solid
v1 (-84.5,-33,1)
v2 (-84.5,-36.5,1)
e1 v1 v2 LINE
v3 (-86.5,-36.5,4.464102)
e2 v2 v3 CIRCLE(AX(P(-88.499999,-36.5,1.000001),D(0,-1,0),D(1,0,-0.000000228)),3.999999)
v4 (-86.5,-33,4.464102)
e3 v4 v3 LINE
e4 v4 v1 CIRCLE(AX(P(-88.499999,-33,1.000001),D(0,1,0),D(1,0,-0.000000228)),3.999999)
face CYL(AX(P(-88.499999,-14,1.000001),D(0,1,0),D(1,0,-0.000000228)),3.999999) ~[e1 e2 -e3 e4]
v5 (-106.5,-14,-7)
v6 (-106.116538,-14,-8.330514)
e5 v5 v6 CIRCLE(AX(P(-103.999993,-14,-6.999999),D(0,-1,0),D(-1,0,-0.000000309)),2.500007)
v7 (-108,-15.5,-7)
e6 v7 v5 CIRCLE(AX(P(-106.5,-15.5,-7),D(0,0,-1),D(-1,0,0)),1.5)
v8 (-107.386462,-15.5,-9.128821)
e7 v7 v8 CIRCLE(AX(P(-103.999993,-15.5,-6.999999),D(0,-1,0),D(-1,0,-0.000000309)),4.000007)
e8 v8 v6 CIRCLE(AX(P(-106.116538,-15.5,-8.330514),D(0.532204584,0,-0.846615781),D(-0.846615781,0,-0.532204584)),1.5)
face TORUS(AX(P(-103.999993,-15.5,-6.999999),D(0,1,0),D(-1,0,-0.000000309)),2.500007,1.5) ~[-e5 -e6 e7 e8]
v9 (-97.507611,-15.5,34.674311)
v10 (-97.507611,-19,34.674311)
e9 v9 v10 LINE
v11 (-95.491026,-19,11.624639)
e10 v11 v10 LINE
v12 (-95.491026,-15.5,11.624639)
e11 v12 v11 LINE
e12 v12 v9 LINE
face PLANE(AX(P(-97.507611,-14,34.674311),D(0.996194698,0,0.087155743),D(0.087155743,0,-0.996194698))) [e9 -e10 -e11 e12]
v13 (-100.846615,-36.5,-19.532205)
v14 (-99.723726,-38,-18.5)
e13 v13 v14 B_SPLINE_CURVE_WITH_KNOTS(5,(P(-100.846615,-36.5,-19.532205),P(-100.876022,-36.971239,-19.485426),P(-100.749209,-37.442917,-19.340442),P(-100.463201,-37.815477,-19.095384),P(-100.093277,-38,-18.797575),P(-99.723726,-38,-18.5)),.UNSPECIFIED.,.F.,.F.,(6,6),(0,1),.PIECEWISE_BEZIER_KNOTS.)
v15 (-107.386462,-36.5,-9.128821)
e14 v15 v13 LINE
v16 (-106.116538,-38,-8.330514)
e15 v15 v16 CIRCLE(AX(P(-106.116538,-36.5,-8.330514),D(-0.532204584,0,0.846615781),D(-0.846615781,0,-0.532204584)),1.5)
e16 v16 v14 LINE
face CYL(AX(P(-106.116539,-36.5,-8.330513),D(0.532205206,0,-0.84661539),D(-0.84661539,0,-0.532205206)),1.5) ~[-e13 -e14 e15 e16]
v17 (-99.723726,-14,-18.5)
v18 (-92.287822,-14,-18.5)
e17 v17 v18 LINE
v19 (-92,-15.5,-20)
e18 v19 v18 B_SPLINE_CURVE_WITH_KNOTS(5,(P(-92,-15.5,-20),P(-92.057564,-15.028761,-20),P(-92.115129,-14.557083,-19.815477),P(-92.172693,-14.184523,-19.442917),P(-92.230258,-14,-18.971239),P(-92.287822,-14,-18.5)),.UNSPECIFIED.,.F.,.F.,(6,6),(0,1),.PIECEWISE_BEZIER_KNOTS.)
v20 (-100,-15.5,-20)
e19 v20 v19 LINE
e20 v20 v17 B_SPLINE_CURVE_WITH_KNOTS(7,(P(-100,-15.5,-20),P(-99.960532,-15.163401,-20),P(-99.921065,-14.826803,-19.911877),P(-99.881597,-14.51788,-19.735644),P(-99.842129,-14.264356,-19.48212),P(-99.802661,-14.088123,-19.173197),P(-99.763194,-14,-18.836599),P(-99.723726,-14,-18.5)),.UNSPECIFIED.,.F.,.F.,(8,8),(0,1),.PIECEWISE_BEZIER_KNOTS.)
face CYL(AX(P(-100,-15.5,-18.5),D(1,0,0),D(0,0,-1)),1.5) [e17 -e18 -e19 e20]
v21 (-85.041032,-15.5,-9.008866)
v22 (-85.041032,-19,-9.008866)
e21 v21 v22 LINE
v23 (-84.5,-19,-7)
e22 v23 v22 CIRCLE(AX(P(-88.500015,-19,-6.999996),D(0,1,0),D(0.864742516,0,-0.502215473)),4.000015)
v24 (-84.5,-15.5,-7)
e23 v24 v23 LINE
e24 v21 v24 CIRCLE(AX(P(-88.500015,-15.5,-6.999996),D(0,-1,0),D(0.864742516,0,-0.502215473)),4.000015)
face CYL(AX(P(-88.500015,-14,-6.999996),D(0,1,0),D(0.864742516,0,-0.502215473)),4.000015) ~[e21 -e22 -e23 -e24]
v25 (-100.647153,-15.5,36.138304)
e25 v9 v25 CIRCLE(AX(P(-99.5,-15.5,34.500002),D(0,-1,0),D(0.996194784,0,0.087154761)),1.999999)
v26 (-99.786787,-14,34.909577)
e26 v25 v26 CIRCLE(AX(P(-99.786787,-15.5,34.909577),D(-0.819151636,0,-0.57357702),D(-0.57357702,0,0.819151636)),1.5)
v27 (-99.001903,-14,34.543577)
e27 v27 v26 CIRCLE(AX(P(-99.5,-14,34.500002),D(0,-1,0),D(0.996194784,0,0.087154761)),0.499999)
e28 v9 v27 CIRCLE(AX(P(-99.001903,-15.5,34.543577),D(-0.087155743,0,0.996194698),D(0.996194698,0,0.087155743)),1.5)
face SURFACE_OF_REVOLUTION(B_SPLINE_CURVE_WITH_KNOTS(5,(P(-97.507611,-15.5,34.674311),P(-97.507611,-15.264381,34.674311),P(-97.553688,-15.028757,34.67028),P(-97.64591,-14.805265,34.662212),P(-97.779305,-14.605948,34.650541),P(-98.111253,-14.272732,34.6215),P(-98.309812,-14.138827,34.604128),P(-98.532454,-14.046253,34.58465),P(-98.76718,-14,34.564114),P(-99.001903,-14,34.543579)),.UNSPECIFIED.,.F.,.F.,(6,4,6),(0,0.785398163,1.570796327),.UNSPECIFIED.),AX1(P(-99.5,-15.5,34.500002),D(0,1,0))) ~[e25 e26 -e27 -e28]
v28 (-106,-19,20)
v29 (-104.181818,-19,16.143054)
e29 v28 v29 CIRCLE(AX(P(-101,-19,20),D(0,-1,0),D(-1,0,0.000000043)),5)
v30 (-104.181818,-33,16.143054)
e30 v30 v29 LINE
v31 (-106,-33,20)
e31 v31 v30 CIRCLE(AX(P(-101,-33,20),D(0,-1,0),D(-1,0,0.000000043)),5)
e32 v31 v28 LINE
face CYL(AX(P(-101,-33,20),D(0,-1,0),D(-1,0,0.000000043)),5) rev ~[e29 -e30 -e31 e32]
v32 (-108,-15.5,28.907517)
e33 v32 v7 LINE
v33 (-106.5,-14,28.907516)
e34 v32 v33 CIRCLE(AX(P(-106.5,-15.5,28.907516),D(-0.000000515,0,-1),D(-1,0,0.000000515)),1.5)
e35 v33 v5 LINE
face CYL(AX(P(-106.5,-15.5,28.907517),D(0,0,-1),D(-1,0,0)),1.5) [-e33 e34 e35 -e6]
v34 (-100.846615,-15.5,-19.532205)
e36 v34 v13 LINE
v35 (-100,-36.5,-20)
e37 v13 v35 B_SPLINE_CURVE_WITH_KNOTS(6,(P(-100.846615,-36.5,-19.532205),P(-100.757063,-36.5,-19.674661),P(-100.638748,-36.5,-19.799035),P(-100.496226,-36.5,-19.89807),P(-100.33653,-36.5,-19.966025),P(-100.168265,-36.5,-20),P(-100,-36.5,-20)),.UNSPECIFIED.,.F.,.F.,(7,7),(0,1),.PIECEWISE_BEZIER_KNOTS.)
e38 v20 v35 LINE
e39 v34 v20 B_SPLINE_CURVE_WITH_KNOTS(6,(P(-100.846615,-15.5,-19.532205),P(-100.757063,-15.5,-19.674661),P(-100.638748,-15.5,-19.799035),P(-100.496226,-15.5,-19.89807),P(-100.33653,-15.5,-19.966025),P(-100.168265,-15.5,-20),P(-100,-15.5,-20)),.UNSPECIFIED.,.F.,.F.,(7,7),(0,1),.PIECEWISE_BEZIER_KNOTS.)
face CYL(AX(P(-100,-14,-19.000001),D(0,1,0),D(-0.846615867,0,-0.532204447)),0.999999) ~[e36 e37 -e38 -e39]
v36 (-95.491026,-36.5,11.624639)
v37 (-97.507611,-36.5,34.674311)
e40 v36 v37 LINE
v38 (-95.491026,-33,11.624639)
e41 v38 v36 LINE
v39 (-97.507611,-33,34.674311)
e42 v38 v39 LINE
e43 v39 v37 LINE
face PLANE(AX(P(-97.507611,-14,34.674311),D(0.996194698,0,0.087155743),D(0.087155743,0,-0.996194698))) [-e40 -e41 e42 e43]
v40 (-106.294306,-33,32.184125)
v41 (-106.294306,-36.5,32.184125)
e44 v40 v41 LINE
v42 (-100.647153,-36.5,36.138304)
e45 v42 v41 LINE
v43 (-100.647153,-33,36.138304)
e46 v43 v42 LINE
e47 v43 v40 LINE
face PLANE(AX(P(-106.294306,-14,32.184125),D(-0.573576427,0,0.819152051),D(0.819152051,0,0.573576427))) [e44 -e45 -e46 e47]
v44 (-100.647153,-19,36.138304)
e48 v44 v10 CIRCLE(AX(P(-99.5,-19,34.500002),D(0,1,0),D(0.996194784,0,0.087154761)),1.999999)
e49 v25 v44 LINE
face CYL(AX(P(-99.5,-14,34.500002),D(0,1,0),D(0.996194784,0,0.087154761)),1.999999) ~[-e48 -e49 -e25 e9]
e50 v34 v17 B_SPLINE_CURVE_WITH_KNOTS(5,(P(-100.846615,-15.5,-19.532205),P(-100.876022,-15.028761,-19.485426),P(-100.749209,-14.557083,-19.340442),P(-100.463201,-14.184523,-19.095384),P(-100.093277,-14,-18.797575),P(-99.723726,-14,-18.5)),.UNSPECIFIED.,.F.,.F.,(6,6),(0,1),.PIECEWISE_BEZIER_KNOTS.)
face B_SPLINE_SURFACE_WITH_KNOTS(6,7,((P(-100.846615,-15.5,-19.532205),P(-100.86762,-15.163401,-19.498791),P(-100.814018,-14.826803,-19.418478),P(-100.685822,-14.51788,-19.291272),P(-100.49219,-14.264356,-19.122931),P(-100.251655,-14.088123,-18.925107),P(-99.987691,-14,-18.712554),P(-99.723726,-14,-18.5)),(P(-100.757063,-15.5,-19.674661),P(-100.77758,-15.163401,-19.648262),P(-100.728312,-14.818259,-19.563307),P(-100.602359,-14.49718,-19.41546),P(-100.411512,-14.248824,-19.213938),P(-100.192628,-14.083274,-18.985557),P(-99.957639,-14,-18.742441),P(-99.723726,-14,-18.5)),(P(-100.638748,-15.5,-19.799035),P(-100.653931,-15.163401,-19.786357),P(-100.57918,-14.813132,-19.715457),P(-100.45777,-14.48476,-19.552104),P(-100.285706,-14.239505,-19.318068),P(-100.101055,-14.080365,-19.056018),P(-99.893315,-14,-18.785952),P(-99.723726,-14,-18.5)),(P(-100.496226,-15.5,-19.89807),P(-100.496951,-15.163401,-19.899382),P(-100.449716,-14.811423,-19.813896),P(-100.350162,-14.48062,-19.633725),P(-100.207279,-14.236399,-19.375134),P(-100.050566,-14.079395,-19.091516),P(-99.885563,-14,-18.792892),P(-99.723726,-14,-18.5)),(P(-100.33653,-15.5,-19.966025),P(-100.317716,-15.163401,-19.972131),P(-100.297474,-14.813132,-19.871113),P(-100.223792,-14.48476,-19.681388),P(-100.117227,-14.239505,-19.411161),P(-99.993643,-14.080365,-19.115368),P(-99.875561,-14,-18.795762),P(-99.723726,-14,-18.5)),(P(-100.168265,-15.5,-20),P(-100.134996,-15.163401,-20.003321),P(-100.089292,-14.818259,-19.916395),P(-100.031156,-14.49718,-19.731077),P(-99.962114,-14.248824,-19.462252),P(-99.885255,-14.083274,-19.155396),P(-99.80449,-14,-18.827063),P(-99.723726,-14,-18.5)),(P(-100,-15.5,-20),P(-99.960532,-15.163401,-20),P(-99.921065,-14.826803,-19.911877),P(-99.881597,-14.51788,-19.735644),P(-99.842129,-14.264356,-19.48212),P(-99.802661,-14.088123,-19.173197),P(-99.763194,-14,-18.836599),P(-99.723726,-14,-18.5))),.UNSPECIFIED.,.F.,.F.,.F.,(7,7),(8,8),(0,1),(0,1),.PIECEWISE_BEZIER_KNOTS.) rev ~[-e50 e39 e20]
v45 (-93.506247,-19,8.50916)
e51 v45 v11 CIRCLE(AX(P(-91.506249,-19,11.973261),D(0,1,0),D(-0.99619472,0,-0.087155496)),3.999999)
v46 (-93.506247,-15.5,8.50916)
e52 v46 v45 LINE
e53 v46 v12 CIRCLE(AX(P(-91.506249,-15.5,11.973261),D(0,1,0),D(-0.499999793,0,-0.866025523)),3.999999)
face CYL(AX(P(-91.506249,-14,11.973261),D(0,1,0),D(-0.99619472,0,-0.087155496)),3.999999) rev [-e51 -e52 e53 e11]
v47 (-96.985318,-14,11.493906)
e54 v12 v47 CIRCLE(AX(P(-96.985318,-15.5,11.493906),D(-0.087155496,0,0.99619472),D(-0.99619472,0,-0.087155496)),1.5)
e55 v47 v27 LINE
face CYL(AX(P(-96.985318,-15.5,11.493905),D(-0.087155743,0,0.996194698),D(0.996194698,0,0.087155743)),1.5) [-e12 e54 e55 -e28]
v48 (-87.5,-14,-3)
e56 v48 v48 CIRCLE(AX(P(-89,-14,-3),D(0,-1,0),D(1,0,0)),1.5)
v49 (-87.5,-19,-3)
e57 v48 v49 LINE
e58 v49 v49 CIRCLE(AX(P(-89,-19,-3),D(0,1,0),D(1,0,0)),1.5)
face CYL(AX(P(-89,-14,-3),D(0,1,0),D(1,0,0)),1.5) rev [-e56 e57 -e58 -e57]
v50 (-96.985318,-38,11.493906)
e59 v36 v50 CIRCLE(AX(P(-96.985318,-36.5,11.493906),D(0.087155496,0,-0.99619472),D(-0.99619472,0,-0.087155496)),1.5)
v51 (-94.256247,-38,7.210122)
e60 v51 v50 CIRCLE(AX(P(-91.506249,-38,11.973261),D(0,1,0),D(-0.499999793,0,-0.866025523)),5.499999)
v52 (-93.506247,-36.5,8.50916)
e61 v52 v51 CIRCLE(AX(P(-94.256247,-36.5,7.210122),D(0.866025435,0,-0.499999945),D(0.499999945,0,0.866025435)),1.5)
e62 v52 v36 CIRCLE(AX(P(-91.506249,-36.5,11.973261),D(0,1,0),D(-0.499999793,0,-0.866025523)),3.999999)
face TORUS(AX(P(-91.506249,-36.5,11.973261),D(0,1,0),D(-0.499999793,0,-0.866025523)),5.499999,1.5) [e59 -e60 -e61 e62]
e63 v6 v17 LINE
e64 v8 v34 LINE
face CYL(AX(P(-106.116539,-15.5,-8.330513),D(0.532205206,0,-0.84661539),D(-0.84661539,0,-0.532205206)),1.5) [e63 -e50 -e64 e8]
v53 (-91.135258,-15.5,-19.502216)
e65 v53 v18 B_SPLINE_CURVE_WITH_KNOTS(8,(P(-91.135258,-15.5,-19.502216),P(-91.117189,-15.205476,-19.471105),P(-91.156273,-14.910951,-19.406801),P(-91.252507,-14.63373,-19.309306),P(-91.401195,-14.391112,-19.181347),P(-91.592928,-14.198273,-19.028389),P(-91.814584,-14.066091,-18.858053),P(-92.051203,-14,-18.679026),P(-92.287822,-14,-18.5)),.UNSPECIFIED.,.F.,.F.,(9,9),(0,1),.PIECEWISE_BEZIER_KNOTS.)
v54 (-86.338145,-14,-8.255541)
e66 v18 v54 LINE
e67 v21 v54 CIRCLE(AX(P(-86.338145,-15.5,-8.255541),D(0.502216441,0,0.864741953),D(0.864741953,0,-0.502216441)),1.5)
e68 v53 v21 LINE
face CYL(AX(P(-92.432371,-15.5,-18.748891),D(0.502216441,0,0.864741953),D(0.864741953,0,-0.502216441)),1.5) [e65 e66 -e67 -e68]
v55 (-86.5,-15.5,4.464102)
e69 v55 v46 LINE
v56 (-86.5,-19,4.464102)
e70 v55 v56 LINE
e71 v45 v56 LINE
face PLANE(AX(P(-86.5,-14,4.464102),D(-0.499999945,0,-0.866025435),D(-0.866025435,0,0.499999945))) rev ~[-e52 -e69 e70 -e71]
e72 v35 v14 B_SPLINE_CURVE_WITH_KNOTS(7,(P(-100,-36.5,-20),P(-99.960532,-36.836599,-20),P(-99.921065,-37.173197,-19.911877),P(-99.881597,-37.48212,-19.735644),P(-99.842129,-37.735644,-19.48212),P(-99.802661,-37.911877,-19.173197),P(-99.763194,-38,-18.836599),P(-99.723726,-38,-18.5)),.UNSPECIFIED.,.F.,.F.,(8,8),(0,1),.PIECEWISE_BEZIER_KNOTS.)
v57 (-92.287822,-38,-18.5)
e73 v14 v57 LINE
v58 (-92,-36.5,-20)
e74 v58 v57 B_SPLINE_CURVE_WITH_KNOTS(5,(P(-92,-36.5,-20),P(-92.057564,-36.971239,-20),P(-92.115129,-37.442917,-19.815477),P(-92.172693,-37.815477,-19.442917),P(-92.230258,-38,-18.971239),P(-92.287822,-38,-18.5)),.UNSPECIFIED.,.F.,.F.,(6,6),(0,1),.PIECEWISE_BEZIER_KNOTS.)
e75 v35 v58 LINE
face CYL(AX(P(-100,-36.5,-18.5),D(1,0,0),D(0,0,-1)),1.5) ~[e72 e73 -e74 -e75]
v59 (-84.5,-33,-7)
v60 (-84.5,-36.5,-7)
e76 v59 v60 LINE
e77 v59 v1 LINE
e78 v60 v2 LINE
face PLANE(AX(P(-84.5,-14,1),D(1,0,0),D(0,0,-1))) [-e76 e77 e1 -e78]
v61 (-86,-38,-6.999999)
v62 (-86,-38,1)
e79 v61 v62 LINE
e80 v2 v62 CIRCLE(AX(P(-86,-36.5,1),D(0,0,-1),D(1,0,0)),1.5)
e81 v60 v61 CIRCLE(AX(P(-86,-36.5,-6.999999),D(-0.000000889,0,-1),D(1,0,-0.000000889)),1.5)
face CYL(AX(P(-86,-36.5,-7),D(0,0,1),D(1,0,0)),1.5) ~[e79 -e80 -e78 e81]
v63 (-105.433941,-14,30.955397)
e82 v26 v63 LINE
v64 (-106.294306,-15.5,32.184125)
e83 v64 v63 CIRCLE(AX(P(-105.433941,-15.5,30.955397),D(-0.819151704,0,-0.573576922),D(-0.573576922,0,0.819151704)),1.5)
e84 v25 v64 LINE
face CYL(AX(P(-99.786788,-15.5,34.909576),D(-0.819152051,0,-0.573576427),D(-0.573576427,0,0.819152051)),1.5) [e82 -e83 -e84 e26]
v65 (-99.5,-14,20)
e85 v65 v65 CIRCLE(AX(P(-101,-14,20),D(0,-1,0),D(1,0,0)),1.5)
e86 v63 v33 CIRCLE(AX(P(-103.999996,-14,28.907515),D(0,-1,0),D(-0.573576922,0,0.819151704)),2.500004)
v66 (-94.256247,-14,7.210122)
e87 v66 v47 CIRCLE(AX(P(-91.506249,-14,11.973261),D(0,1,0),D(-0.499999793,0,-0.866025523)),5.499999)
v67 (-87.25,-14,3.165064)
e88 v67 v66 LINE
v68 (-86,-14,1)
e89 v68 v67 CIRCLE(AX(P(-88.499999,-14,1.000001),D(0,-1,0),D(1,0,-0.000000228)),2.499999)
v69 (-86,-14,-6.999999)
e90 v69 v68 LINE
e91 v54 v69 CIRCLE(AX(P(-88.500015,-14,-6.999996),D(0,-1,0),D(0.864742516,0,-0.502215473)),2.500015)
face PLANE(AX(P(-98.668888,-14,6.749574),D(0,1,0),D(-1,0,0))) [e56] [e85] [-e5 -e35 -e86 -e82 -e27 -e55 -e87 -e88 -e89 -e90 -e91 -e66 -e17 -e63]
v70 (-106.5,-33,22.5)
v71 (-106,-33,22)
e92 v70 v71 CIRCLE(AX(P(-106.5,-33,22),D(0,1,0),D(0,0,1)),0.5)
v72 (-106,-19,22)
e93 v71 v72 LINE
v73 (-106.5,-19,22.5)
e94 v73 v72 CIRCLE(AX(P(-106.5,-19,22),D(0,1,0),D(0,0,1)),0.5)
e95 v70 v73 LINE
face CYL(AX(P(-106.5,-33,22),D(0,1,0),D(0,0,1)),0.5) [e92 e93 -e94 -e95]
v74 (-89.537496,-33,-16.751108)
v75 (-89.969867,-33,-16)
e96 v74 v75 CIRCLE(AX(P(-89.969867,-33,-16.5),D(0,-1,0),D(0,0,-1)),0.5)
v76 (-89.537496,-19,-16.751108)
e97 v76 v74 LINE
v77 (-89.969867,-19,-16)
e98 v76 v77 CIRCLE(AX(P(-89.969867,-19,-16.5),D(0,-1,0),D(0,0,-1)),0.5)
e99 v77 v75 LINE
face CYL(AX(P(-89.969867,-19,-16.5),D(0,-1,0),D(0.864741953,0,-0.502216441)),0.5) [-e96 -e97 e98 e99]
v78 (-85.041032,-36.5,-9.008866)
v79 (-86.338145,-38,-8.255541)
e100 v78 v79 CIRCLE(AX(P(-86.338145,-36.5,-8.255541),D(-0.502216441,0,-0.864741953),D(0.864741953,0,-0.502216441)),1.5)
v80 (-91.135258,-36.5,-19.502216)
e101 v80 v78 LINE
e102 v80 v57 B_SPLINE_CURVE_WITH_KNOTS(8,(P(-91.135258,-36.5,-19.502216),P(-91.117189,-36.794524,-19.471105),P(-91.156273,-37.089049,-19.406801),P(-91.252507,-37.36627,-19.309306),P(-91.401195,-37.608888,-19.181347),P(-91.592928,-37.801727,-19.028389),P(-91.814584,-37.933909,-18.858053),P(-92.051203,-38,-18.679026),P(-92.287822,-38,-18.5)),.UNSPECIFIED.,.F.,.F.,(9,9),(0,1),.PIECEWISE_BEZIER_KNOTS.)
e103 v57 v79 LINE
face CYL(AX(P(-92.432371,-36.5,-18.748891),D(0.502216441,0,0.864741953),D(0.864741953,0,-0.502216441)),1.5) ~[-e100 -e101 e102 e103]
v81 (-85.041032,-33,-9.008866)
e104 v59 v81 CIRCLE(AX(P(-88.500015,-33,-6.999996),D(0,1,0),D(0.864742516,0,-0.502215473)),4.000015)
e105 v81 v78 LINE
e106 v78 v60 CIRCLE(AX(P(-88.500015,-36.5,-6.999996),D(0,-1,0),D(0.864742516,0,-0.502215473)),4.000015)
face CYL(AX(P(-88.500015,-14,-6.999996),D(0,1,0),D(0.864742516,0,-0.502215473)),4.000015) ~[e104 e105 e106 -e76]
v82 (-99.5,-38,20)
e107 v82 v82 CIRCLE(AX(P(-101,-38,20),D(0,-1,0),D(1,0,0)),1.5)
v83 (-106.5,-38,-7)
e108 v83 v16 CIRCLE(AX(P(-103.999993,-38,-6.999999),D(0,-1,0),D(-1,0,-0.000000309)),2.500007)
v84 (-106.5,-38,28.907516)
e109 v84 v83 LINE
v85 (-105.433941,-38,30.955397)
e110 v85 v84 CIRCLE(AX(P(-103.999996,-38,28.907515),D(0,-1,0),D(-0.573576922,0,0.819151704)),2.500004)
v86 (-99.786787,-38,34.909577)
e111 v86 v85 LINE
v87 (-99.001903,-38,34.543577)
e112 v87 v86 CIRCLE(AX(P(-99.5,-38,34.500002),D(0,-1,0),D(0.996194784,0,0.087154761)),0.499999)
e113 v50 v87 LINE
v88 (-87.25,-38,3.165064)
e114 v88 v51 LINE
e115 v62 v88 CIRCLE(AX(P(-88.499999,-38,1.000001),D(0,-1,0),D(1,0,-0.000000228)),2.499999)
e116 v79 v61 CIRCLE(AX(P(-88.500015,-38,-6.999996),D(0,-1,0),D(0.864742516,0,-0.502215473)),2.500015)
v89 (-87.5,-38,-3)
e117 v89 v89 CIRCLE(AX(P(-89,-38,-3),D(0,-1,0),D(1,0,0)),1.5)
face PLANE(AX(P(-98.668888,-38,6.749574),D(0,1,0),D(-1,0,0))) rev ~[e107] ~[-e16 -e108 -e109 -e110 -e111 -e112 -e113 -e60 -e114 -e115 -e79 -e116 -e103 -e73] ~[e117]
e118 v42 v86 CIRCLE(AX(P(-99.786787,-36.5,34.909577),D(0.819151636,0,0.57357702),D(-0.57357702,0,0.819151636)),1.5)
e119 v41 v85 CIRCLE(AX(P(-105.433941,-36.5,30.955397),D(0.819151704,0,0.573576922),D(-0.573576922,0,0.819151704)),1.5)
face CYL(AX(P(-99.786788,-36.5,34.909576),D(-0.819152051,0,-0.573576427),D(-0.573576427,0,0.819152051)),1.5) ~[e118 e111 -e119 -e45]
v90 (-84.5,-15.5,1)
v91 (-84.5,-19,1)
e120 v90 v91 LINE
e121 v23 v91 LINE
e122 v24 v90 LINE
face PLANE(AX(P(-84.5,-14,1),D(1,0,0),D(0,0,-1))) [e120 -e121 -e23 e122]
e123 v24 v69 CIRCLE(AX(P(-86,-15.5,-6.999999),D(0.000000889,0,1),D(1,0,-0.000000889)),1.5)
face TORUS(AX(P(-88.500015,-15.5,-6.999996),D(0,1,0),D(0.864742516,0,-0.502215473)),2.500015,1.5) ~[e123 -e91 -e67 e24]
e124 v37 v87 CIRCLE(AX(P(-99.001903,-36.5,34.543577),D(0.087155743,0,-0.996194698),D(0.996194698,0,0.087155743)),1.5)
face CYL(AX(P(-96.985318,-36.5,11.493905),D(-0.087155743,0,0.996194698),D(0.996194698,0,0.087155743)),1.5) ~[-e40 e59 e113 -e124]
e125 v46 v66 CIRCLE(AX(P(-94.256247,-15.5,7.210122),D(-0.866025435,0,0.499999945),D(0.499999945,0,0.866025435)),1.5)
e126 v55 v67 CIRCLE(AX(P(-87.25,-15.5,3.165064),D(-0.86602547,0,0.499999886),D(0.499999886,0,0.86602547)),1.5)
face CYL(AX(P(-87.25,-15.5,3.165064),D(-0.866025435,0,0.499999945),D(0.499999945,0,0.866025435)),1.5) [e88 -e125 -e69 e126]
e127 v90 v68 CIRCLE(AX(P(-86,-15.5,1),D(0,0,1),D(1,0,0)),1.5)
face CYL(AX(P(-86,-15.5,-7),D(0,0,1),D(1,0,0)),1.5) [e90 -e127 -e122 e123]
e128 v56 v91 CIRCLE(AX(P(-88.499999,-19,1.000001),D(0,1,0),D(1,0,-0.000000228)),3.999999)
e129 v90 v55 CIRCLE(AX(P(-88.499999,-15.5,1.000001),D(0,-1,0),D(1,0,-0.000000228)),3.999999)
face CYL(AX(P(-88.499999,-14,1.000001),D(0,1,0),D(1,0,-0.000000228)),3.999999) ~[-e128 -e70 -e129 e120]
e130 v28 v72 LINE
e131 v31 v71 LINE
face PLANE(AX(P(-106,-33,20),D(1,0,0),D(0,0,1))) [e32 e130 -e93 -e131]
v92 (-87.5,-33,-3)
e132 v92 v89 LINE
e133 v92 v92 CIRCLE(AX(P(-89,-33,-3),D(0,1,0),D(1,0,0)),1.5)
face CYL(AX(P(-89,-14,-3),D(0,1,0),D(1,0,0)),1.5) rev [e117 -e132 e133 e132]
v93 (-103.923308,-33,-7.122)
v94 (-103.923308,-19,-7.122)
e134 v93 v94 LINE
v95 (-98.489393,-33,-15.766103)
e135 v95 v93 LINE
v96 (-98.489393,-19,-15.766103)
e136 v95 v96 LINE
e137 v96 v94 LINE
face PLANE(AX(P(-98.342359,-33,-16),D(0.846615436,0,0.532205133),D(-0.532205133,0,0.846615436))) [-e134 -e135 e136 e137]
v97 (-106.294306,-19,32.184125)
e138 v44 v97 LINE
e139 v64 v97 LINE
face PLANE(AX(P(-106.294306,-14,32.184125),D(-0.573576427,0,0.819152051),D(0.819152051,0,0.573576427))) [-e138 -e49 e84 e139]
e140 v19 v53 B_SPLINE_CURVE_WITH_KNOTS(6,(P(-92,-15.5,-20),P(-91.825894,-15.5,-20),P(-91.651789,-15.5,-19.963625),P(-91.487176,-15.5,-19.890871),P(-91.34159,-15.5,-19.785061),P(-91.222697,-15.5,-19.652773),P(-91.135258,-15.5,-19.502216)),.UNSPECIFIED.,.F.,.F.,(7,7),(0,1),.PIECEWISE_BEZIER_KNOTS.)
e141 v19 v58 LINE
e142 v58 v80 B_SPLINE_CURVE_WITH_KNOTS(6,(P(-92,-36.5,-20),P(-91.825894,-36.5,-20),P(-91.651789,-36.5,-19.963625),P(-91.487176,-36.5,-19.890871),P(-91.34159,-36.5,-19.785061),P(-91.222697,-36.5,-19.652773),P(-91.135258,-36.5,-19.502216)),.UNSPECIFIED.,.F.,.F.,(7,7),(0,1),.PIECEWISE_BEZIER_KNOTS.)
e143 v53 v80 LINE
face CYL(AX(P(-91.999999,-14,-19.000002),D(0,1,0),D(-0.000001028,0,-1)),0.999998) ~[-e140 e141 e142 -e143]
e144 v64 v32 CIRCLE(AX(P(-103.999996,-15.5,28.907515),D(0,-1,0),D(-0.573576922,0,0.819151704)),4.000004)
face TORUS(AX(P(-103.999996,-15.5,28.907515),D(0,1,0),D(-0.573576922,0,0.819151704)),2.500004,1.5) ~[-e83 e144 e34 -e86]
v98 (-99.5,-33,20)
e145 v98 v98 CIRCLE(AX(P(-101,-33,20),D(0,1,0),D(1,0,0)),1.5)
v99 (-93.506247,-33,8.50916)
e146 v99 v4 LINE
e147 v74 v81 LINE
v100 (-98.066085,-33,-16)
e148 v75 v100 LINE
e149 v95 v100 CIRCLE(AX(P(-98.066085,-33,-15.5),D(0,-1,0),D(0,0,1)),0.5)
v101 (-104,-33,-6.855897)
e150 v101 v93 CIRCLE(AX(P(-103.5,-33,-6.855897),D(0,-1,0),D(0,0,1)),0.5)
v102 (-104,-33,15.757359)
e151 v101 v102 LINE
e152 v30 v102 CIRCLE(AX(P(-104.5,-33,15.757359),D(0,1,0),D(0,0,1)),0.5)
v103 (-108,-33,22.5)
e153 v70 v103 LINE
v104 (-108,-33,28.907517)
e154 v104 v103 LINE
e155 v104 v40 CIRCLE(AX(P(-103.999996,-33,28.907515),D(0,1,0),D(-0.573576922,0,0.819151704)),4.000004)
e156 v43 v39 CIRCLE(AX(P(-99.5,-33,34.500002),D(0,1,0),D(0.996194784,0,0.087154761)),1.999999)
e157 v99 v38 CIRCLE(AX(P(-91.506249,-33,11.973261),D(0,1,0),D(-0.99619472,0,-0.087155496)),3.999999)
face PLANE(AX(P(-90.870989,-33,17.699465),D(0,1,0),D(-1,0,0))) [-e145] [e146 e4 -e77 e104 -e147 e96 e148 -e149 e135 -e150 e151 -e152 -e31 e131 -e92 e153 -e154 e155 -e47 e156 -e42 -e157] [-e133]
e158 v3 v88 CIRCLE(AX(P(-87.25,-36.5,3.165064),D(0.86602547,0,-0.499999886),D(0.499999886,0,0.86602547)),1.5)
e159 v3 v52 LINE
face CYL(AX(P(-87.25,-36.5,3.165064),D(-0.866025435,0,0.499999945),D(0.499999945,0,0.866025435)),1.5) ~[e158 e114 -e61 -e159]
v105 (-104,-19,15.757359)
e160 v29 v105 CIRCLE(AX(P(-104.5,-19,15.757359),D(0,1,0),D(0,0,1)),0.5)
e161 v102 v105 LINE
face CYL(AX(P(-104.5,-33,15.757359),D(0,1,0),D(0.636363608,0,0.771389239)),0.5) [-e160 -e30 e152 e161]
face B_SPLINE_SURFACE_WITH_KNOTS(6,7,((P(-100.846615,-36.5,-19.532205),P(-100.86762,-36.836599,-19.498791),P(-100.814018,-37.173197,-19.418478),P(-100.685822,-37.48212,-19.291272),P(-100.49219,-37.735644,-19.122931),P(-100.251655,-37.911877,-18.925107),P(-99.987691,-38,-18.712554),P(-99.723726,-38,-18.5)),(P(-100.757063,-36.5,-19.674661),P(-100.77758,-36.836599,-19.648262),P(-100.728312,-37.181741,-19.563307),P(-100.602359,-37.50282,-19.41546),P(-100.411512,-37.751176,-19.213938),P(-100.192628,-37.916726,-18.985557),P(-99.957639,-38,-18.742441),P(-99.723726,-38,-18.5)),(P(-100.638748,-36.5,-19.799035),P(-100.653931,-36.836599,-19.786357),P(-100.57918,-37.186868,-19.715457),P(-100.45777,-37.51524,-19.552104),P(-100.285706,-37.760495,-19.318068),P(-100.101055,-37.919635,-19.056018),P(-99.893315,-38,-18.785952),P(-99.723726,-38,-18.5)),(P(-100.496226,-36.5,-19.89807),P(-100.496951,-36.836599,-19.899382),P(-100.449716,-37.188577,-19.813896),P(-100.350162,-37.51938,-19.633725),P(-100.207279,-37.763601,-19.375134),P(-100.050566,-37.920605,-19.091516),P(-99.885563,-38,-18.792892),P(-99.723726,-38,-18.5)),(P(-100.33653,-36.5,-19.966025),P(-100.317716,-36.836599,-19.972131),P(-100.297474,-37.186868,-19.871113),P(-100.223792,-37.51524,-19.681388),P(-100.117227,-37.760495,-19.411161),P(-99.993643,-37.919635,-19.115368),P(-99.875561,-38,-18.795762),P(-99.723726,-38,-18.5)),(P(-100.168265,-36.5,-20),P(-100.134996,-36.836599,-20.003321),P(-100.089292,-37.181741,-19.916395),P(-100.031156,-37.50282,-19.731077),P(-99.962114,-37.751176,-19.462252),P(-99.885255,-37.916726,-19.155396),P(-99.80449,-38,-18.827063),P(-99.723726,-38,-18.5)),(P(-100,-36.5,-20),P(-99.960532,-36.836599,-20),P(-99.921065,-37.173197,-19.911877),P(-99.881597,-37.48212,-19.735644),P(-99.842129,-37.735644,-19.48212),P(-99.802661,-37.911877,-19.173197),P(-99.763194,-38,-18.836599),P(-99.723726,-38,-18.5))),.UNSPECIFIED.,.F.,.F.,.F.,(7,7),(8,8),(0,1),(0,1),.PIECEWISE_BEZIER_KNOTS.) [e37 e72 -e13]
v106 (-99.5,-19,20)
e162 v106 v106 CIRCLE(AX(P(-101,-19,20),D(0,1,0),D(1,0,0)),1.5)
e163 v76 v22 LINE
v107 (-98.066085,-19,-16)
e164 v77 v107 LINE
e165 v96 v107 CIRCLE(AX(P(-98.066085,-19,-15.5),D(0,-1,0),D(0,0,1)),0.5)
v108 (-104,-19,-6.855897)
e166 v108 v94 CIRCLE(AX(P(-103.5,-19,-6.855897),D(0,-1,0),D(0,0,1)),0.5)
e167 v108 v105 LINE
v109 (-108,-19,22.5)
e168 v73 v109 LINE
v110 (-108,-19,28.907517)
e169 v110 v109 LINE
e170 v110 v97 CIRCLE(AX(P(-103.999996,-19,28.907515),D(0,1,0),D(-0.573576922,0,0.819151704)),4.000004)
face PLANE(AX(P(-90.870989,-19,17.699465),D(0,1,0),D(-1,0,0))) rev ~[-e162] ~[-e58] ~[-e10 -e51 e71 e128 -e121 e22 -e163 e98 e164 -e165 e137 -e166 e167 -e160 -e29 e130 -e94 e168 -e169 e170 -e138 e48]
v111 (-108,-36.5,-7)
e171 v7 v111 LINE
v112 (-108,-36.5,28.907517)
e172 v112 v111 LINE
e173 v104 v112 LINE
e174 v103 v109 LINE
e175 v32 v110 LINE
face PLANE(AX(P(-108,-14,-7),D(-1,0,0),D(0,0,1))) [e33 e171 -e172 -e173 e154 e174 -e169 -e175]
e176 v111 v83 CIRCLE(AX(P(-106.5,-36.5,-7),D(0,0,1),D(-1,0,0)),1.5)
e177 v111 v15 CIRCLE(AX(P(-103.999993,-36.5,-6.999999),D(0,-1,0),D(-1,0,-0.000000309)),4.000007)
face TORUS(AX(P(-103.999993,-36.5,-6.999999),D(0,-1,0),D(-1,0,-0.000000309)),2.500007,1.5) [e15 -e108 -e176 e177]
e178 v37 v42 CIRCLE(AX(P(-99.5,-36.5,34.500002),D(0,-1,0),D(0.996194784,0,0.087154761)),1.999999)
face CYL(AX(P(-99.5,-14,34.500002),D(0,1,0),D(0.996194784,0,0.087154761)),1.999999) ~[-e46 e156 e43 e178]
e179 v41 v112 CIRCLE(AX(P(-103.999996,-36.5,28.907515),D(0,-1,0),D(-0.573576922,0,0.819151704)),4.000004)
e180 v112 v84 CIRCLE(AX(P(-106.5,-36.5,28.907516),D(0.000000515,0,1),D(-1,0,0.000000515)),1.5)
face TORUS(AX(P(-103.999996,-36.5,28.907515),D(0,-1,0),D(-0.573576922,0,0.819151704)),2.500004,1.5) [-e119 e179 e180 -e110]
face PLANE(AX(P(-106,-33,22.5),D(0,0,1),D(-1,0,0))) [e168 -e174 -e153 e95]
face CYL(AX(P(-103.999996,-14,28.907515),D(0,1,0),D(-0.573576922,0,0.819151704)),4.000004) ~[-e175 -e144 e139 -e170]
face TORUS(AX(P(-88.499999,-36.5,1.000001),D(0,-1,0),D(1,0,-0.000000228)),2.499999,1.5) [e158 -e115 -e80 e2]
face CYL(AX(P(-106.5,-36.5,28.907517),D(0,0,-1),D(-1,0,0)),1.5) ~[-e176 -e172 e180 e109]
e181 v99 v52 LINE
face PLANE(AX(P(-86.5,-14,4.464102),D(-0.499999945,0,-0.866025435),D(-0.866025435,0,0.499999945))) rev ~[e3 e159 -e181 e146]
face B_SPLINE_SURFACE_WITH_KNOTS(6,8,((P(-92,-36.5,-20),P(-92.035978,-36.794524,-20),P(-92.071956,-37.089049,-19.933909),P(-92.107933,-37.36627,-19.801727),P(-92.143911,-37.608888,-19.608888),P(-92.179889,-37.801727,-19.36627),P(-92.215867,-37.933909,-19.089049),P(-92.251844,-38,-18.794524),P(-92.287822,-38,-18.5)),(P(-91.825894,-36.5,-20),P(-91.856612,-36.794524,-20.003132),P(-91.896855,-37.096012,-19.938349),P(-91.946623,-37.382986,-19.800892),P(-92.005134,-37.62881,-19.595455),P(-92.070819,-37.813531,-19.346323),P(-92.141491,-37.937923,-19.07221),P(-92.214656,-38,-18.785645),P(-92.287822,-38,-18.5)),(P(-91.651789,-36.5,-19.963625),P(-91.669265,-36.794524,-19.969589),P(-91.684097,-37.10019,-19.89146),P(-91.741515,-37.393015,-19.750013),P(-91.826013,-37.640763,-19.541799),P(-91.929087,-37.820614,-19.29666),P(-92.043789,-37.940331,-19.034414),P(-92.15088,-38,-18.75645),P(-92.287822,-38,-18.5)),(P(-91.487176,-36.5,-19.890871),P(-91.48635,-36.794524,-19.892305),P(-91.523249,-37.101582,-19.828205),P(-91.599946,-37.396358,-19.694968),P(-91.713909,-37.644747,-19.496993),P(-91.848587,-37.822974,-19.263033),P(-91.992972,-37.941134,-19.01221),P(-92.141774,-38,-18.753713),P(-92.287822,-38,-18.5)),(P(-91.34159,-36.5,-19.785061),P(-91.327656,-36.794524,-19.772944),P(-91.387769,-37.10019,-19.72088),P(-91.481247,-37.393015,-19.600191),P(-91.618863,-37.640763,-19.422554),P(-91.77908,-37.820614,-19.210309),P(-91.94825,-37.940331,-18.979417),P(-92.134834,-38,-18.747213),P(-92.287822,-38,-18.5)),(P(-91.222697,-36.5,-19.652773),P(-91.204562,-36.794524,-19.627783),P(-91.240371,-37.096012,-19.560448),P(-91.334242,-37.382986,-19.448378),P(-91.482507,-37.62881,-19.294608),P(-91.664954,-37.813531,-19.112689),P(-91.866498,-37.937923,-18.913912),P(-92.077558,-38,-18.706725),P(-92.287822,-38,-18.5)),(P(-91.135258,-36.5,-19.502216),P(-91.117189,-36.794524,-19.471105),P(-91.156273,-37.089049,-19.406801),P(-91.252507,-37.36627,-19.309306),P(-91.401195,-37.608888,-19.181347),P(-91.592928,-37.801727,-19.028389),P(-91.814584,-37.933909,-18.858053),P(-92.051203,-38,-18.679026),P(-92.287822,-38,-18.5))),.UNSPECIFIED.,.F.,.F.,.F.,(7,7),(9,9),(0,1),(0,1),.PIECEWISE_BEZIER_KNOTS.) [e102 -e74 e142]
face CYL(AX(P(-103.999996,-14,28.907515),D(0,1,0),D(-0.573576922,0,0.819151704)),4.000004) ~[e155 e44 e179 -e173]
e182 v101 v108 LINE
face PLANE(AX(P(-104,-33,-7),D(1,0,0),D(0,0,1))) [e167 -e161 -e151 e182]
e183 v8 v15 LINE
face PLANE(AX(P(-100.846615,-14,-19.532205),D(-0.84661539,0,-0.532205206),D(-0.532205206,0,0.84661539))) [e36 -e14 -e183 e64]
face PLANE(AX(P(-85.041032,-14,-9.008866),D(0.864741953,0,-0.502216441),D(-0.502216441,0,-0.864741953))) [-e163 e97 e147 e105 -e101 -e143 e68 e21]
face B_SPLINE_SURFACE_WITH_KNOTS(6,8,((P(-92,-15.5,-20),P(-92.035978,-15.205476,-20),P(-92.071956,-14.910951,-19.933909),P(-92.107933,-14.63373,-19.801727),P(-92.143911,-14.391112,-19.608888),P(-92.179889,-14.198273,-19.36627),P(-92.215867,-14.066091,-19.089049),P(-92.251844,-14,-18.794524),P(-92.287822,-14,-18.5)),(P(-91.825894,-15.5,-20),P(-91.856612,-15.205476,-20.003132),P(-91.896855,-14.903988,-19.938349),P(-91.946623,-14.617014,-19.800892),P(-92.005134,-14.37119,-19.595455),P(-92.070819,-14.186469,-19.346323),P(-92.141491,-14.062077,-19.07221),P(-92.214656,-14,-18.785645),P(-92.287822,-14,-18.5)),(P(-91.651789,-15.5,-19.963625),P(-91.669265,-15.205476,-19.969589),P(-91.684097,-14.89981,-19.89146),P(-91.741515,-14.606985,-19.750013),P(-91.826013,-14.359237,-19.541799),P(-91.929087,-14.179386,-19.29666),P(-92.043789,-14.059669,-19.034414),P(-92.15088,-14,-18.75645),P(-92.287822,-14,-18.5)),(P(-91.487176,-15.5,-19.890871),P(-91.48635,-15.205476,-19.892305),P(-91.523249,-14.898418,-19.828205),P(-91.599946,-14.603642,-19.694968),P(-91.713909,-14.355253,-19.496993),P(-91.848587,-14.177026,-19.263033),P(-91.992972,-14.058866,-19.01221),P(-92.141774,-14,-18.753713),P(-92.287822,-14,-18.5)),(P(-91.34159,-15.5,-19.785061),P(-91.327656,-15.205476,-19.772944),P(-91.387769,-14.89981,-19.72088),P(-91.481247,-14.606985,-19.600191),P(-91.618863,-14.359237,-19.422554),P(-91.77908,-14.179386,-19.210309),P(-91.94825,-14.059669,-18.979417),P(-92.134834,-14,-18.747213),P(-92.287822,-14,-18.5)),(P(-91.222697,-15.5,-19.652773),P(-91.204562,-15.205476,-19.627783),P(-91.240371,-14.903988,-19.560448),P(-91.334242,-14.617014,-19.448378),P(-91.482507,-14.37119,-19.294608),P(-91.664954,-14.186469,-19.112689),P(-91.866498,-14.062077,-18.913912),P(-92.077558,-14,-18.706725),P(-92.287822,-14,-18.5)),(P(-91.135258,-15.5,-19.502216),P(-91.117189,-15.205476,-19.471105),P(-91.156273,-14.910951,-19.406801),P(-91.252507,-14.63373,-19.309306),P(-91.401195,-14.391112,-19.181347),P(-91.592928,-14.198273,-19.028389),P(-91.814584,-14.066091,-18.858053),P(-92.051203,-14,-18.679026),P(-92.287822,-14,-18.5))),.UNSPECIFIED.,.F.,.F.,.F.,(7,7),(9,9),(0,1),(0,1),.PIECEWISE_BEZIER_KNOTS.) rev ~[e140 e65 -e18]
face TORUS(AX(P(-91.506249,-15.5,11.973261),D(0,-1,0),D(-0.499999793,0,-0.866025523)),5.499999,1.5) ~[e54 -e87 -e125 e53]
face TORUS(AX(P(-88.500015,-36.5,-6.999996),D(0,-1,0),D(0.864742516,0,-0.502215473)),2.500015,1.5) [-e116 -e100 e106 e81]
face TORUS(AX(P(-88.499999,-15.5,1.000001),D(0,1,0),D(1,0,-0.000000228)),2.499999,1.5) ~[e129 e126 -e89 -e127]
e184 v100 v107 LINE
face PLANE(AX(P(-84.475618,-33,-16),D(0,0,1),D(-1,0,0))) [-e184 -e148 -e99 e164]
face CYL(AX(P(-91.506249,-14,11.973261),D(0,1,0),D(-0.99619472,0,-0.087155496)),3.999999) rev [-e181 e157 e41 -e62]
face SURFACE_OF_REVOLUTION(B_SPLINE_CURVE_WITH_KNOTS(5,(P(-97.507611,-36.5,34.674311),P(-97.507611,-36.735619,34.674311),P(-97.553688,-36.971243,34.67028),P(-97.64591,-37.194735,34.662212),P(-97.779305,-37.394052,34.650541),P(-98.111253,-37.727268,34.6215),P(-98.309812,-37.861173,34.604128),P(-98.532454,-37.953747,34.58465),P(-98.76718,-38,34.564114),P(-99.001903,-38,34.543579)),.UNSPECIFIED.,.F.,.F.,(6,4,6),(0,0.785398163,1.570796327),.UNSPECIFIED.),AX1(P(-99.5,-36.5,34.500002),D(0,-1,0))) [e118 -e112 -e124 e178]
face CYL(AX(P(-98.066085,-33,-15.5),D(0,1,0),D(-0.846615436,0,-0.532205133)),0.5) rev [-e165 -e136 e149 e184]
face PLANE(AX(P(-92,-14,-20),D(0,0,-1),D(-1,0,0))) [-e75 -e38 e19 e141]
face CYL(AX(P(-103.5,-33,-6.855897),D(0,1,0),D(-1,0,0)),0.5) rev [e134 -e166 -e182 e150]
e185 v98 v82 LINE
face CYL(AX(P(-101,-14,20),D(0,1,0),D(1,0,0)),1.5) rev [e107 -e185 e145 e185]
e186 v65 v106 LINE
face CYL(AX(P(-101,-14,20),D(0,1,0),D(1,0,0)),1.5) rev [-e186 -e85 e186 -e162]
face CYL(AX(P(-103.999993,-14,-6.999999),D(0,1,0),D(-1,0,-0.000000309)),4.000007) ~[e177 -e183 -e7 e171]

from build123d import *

# Parameters (mm, degrees)
SKETCH036_R     = 1.5
PAD021_DEPTH    = 24
FILLET007_R     = 1.5
POCKET013_DEPTH = 14
FILLET008_R     = 0.5


with BuildPart() as part:
    # Sketch036 → Pad021 (new body)
    with BuildSketch(Plane.XZ):
        with BuildLine():
            Line((-59.294306, 24.684125), (-53.647153, 28.638304))
            ThreePointArc((-50.507611, 27.174311), (-51.654763, 28.812616), (-53.647153, 28.638304))
            Line((-50.507611, 27.174311), (-48.491026, 4.124639))
            ThreePointArc((-48.491026, 4.124639), (-47.879813, 2.324063), (-46.506247, 1.00916))
            Line((-39.5, -3.035898), (-46.506247, 1.00916))
            ThreePointArc((-37.5, -6.5), (-38.035898, -4.5), (-39.5, -3.035898))
            Line((-37.5, -6.5), (-37.5, -14.5))
            ThreePointArc((-38.041032, -16.508866), (-37.637626, -15.540223), (-37.5, -14.5))
            Line((-38.041032, -16.508866), (-44.135258, -27.002216))
            ThreePointArc((-45, -27.5), (-44.501109, -27.366665), (-44.135258, -27.002216))
            Line((-45, -27.5), (-53, -27.5))
            ThreePointArc((-53.846615, -27.032205), (-53.483629, -27.375273), (-53, -27.5))
            Line((-53.846615, -27.032205), (-60.386462, -16.628821))
            ThreePointArc((-61, -14.5), (-60.843556, -15.607735), (-60.386462, -16.628821))
            Line((-61, -14.5), (-61, 21.407517))
            ThreePointArc((-59.294306, 24.684125), (-60.548043, 23.254511), (-61, 21.407517))
        make_face()
        with Locations((-54, 12.5)):
            Circle(SKETCH036_R, mode=Mode.SUBTRACT)
        with Locations((-42, -10.5)):
            Circle(SKETCH036_R, mode=Mode.SUBTRACT)
    extrude(amount=PAD021_DEPTH)

    # Fillet007
    fillet007_edges = [part.edges().sort_by_distance(p)[0] for p in [
        (-60.548043, 0, 23.254511),
        (-60.548043, -24, 23.254511),
    ]]
    fillet(fillet007_edges, radius=FILLET007_R)

    # Sketch037 (on Face12 of Fillet007) → Pocket013 (cut)
    with BuildSketch(Plane.XZ.offset(19)):
        with BuildLine():
            Line((-37.475618, -23.5), (-51.342359, -23.5))
            Line((-51.342359, -23.5), (-57, -14.5))
            Line((-57, -14.5), (-57, 8.5))
            ThreePointArc((-59, 12.5), (-58.472136, 10.263932), (-57, 8.5))
            Line((-59, 12.5), (-59, 15))
            Line((-59, 15), (-79, 15))
            Line((-79, 15), (-79, 35))
            Line((-79, 35), (-15.733307, 35))
            Line((-15.733307, 35), (-15.733307, -20.5))
            Line((-15.733307, -20.5), (-35.733307, -20.5))
            Line((-35.733307, -20.5), (-37.475618, -23.5))
        make_face()
    extrude(amount=-POCKET013_DEPTH, mode=Mode.SUBTRACT)

    # Fillet008
    fillet008_edges = [part.edges().sort_by_distance(p)[0] for p in [
        (-57, -12, 8.5),
        (-59, -12, 15),
        (-57, -12, -14.5),
        (-51.342359, -12, -23.5),
        (-42.101275, -12, -23.5),
    ]]
    fillet(fillet008_edges, radius=FILLET008_R)


with BuildPart() as part_1:
    # Body003 placement: moved
    add(part.part.moved(Location((0, 33, 0))))


with BuildPart() as part_2:
    # Clone170 placement: moved
    add(part_1.part.moved(Location((-47, -47, 7.5))))


solid = part_2.part
